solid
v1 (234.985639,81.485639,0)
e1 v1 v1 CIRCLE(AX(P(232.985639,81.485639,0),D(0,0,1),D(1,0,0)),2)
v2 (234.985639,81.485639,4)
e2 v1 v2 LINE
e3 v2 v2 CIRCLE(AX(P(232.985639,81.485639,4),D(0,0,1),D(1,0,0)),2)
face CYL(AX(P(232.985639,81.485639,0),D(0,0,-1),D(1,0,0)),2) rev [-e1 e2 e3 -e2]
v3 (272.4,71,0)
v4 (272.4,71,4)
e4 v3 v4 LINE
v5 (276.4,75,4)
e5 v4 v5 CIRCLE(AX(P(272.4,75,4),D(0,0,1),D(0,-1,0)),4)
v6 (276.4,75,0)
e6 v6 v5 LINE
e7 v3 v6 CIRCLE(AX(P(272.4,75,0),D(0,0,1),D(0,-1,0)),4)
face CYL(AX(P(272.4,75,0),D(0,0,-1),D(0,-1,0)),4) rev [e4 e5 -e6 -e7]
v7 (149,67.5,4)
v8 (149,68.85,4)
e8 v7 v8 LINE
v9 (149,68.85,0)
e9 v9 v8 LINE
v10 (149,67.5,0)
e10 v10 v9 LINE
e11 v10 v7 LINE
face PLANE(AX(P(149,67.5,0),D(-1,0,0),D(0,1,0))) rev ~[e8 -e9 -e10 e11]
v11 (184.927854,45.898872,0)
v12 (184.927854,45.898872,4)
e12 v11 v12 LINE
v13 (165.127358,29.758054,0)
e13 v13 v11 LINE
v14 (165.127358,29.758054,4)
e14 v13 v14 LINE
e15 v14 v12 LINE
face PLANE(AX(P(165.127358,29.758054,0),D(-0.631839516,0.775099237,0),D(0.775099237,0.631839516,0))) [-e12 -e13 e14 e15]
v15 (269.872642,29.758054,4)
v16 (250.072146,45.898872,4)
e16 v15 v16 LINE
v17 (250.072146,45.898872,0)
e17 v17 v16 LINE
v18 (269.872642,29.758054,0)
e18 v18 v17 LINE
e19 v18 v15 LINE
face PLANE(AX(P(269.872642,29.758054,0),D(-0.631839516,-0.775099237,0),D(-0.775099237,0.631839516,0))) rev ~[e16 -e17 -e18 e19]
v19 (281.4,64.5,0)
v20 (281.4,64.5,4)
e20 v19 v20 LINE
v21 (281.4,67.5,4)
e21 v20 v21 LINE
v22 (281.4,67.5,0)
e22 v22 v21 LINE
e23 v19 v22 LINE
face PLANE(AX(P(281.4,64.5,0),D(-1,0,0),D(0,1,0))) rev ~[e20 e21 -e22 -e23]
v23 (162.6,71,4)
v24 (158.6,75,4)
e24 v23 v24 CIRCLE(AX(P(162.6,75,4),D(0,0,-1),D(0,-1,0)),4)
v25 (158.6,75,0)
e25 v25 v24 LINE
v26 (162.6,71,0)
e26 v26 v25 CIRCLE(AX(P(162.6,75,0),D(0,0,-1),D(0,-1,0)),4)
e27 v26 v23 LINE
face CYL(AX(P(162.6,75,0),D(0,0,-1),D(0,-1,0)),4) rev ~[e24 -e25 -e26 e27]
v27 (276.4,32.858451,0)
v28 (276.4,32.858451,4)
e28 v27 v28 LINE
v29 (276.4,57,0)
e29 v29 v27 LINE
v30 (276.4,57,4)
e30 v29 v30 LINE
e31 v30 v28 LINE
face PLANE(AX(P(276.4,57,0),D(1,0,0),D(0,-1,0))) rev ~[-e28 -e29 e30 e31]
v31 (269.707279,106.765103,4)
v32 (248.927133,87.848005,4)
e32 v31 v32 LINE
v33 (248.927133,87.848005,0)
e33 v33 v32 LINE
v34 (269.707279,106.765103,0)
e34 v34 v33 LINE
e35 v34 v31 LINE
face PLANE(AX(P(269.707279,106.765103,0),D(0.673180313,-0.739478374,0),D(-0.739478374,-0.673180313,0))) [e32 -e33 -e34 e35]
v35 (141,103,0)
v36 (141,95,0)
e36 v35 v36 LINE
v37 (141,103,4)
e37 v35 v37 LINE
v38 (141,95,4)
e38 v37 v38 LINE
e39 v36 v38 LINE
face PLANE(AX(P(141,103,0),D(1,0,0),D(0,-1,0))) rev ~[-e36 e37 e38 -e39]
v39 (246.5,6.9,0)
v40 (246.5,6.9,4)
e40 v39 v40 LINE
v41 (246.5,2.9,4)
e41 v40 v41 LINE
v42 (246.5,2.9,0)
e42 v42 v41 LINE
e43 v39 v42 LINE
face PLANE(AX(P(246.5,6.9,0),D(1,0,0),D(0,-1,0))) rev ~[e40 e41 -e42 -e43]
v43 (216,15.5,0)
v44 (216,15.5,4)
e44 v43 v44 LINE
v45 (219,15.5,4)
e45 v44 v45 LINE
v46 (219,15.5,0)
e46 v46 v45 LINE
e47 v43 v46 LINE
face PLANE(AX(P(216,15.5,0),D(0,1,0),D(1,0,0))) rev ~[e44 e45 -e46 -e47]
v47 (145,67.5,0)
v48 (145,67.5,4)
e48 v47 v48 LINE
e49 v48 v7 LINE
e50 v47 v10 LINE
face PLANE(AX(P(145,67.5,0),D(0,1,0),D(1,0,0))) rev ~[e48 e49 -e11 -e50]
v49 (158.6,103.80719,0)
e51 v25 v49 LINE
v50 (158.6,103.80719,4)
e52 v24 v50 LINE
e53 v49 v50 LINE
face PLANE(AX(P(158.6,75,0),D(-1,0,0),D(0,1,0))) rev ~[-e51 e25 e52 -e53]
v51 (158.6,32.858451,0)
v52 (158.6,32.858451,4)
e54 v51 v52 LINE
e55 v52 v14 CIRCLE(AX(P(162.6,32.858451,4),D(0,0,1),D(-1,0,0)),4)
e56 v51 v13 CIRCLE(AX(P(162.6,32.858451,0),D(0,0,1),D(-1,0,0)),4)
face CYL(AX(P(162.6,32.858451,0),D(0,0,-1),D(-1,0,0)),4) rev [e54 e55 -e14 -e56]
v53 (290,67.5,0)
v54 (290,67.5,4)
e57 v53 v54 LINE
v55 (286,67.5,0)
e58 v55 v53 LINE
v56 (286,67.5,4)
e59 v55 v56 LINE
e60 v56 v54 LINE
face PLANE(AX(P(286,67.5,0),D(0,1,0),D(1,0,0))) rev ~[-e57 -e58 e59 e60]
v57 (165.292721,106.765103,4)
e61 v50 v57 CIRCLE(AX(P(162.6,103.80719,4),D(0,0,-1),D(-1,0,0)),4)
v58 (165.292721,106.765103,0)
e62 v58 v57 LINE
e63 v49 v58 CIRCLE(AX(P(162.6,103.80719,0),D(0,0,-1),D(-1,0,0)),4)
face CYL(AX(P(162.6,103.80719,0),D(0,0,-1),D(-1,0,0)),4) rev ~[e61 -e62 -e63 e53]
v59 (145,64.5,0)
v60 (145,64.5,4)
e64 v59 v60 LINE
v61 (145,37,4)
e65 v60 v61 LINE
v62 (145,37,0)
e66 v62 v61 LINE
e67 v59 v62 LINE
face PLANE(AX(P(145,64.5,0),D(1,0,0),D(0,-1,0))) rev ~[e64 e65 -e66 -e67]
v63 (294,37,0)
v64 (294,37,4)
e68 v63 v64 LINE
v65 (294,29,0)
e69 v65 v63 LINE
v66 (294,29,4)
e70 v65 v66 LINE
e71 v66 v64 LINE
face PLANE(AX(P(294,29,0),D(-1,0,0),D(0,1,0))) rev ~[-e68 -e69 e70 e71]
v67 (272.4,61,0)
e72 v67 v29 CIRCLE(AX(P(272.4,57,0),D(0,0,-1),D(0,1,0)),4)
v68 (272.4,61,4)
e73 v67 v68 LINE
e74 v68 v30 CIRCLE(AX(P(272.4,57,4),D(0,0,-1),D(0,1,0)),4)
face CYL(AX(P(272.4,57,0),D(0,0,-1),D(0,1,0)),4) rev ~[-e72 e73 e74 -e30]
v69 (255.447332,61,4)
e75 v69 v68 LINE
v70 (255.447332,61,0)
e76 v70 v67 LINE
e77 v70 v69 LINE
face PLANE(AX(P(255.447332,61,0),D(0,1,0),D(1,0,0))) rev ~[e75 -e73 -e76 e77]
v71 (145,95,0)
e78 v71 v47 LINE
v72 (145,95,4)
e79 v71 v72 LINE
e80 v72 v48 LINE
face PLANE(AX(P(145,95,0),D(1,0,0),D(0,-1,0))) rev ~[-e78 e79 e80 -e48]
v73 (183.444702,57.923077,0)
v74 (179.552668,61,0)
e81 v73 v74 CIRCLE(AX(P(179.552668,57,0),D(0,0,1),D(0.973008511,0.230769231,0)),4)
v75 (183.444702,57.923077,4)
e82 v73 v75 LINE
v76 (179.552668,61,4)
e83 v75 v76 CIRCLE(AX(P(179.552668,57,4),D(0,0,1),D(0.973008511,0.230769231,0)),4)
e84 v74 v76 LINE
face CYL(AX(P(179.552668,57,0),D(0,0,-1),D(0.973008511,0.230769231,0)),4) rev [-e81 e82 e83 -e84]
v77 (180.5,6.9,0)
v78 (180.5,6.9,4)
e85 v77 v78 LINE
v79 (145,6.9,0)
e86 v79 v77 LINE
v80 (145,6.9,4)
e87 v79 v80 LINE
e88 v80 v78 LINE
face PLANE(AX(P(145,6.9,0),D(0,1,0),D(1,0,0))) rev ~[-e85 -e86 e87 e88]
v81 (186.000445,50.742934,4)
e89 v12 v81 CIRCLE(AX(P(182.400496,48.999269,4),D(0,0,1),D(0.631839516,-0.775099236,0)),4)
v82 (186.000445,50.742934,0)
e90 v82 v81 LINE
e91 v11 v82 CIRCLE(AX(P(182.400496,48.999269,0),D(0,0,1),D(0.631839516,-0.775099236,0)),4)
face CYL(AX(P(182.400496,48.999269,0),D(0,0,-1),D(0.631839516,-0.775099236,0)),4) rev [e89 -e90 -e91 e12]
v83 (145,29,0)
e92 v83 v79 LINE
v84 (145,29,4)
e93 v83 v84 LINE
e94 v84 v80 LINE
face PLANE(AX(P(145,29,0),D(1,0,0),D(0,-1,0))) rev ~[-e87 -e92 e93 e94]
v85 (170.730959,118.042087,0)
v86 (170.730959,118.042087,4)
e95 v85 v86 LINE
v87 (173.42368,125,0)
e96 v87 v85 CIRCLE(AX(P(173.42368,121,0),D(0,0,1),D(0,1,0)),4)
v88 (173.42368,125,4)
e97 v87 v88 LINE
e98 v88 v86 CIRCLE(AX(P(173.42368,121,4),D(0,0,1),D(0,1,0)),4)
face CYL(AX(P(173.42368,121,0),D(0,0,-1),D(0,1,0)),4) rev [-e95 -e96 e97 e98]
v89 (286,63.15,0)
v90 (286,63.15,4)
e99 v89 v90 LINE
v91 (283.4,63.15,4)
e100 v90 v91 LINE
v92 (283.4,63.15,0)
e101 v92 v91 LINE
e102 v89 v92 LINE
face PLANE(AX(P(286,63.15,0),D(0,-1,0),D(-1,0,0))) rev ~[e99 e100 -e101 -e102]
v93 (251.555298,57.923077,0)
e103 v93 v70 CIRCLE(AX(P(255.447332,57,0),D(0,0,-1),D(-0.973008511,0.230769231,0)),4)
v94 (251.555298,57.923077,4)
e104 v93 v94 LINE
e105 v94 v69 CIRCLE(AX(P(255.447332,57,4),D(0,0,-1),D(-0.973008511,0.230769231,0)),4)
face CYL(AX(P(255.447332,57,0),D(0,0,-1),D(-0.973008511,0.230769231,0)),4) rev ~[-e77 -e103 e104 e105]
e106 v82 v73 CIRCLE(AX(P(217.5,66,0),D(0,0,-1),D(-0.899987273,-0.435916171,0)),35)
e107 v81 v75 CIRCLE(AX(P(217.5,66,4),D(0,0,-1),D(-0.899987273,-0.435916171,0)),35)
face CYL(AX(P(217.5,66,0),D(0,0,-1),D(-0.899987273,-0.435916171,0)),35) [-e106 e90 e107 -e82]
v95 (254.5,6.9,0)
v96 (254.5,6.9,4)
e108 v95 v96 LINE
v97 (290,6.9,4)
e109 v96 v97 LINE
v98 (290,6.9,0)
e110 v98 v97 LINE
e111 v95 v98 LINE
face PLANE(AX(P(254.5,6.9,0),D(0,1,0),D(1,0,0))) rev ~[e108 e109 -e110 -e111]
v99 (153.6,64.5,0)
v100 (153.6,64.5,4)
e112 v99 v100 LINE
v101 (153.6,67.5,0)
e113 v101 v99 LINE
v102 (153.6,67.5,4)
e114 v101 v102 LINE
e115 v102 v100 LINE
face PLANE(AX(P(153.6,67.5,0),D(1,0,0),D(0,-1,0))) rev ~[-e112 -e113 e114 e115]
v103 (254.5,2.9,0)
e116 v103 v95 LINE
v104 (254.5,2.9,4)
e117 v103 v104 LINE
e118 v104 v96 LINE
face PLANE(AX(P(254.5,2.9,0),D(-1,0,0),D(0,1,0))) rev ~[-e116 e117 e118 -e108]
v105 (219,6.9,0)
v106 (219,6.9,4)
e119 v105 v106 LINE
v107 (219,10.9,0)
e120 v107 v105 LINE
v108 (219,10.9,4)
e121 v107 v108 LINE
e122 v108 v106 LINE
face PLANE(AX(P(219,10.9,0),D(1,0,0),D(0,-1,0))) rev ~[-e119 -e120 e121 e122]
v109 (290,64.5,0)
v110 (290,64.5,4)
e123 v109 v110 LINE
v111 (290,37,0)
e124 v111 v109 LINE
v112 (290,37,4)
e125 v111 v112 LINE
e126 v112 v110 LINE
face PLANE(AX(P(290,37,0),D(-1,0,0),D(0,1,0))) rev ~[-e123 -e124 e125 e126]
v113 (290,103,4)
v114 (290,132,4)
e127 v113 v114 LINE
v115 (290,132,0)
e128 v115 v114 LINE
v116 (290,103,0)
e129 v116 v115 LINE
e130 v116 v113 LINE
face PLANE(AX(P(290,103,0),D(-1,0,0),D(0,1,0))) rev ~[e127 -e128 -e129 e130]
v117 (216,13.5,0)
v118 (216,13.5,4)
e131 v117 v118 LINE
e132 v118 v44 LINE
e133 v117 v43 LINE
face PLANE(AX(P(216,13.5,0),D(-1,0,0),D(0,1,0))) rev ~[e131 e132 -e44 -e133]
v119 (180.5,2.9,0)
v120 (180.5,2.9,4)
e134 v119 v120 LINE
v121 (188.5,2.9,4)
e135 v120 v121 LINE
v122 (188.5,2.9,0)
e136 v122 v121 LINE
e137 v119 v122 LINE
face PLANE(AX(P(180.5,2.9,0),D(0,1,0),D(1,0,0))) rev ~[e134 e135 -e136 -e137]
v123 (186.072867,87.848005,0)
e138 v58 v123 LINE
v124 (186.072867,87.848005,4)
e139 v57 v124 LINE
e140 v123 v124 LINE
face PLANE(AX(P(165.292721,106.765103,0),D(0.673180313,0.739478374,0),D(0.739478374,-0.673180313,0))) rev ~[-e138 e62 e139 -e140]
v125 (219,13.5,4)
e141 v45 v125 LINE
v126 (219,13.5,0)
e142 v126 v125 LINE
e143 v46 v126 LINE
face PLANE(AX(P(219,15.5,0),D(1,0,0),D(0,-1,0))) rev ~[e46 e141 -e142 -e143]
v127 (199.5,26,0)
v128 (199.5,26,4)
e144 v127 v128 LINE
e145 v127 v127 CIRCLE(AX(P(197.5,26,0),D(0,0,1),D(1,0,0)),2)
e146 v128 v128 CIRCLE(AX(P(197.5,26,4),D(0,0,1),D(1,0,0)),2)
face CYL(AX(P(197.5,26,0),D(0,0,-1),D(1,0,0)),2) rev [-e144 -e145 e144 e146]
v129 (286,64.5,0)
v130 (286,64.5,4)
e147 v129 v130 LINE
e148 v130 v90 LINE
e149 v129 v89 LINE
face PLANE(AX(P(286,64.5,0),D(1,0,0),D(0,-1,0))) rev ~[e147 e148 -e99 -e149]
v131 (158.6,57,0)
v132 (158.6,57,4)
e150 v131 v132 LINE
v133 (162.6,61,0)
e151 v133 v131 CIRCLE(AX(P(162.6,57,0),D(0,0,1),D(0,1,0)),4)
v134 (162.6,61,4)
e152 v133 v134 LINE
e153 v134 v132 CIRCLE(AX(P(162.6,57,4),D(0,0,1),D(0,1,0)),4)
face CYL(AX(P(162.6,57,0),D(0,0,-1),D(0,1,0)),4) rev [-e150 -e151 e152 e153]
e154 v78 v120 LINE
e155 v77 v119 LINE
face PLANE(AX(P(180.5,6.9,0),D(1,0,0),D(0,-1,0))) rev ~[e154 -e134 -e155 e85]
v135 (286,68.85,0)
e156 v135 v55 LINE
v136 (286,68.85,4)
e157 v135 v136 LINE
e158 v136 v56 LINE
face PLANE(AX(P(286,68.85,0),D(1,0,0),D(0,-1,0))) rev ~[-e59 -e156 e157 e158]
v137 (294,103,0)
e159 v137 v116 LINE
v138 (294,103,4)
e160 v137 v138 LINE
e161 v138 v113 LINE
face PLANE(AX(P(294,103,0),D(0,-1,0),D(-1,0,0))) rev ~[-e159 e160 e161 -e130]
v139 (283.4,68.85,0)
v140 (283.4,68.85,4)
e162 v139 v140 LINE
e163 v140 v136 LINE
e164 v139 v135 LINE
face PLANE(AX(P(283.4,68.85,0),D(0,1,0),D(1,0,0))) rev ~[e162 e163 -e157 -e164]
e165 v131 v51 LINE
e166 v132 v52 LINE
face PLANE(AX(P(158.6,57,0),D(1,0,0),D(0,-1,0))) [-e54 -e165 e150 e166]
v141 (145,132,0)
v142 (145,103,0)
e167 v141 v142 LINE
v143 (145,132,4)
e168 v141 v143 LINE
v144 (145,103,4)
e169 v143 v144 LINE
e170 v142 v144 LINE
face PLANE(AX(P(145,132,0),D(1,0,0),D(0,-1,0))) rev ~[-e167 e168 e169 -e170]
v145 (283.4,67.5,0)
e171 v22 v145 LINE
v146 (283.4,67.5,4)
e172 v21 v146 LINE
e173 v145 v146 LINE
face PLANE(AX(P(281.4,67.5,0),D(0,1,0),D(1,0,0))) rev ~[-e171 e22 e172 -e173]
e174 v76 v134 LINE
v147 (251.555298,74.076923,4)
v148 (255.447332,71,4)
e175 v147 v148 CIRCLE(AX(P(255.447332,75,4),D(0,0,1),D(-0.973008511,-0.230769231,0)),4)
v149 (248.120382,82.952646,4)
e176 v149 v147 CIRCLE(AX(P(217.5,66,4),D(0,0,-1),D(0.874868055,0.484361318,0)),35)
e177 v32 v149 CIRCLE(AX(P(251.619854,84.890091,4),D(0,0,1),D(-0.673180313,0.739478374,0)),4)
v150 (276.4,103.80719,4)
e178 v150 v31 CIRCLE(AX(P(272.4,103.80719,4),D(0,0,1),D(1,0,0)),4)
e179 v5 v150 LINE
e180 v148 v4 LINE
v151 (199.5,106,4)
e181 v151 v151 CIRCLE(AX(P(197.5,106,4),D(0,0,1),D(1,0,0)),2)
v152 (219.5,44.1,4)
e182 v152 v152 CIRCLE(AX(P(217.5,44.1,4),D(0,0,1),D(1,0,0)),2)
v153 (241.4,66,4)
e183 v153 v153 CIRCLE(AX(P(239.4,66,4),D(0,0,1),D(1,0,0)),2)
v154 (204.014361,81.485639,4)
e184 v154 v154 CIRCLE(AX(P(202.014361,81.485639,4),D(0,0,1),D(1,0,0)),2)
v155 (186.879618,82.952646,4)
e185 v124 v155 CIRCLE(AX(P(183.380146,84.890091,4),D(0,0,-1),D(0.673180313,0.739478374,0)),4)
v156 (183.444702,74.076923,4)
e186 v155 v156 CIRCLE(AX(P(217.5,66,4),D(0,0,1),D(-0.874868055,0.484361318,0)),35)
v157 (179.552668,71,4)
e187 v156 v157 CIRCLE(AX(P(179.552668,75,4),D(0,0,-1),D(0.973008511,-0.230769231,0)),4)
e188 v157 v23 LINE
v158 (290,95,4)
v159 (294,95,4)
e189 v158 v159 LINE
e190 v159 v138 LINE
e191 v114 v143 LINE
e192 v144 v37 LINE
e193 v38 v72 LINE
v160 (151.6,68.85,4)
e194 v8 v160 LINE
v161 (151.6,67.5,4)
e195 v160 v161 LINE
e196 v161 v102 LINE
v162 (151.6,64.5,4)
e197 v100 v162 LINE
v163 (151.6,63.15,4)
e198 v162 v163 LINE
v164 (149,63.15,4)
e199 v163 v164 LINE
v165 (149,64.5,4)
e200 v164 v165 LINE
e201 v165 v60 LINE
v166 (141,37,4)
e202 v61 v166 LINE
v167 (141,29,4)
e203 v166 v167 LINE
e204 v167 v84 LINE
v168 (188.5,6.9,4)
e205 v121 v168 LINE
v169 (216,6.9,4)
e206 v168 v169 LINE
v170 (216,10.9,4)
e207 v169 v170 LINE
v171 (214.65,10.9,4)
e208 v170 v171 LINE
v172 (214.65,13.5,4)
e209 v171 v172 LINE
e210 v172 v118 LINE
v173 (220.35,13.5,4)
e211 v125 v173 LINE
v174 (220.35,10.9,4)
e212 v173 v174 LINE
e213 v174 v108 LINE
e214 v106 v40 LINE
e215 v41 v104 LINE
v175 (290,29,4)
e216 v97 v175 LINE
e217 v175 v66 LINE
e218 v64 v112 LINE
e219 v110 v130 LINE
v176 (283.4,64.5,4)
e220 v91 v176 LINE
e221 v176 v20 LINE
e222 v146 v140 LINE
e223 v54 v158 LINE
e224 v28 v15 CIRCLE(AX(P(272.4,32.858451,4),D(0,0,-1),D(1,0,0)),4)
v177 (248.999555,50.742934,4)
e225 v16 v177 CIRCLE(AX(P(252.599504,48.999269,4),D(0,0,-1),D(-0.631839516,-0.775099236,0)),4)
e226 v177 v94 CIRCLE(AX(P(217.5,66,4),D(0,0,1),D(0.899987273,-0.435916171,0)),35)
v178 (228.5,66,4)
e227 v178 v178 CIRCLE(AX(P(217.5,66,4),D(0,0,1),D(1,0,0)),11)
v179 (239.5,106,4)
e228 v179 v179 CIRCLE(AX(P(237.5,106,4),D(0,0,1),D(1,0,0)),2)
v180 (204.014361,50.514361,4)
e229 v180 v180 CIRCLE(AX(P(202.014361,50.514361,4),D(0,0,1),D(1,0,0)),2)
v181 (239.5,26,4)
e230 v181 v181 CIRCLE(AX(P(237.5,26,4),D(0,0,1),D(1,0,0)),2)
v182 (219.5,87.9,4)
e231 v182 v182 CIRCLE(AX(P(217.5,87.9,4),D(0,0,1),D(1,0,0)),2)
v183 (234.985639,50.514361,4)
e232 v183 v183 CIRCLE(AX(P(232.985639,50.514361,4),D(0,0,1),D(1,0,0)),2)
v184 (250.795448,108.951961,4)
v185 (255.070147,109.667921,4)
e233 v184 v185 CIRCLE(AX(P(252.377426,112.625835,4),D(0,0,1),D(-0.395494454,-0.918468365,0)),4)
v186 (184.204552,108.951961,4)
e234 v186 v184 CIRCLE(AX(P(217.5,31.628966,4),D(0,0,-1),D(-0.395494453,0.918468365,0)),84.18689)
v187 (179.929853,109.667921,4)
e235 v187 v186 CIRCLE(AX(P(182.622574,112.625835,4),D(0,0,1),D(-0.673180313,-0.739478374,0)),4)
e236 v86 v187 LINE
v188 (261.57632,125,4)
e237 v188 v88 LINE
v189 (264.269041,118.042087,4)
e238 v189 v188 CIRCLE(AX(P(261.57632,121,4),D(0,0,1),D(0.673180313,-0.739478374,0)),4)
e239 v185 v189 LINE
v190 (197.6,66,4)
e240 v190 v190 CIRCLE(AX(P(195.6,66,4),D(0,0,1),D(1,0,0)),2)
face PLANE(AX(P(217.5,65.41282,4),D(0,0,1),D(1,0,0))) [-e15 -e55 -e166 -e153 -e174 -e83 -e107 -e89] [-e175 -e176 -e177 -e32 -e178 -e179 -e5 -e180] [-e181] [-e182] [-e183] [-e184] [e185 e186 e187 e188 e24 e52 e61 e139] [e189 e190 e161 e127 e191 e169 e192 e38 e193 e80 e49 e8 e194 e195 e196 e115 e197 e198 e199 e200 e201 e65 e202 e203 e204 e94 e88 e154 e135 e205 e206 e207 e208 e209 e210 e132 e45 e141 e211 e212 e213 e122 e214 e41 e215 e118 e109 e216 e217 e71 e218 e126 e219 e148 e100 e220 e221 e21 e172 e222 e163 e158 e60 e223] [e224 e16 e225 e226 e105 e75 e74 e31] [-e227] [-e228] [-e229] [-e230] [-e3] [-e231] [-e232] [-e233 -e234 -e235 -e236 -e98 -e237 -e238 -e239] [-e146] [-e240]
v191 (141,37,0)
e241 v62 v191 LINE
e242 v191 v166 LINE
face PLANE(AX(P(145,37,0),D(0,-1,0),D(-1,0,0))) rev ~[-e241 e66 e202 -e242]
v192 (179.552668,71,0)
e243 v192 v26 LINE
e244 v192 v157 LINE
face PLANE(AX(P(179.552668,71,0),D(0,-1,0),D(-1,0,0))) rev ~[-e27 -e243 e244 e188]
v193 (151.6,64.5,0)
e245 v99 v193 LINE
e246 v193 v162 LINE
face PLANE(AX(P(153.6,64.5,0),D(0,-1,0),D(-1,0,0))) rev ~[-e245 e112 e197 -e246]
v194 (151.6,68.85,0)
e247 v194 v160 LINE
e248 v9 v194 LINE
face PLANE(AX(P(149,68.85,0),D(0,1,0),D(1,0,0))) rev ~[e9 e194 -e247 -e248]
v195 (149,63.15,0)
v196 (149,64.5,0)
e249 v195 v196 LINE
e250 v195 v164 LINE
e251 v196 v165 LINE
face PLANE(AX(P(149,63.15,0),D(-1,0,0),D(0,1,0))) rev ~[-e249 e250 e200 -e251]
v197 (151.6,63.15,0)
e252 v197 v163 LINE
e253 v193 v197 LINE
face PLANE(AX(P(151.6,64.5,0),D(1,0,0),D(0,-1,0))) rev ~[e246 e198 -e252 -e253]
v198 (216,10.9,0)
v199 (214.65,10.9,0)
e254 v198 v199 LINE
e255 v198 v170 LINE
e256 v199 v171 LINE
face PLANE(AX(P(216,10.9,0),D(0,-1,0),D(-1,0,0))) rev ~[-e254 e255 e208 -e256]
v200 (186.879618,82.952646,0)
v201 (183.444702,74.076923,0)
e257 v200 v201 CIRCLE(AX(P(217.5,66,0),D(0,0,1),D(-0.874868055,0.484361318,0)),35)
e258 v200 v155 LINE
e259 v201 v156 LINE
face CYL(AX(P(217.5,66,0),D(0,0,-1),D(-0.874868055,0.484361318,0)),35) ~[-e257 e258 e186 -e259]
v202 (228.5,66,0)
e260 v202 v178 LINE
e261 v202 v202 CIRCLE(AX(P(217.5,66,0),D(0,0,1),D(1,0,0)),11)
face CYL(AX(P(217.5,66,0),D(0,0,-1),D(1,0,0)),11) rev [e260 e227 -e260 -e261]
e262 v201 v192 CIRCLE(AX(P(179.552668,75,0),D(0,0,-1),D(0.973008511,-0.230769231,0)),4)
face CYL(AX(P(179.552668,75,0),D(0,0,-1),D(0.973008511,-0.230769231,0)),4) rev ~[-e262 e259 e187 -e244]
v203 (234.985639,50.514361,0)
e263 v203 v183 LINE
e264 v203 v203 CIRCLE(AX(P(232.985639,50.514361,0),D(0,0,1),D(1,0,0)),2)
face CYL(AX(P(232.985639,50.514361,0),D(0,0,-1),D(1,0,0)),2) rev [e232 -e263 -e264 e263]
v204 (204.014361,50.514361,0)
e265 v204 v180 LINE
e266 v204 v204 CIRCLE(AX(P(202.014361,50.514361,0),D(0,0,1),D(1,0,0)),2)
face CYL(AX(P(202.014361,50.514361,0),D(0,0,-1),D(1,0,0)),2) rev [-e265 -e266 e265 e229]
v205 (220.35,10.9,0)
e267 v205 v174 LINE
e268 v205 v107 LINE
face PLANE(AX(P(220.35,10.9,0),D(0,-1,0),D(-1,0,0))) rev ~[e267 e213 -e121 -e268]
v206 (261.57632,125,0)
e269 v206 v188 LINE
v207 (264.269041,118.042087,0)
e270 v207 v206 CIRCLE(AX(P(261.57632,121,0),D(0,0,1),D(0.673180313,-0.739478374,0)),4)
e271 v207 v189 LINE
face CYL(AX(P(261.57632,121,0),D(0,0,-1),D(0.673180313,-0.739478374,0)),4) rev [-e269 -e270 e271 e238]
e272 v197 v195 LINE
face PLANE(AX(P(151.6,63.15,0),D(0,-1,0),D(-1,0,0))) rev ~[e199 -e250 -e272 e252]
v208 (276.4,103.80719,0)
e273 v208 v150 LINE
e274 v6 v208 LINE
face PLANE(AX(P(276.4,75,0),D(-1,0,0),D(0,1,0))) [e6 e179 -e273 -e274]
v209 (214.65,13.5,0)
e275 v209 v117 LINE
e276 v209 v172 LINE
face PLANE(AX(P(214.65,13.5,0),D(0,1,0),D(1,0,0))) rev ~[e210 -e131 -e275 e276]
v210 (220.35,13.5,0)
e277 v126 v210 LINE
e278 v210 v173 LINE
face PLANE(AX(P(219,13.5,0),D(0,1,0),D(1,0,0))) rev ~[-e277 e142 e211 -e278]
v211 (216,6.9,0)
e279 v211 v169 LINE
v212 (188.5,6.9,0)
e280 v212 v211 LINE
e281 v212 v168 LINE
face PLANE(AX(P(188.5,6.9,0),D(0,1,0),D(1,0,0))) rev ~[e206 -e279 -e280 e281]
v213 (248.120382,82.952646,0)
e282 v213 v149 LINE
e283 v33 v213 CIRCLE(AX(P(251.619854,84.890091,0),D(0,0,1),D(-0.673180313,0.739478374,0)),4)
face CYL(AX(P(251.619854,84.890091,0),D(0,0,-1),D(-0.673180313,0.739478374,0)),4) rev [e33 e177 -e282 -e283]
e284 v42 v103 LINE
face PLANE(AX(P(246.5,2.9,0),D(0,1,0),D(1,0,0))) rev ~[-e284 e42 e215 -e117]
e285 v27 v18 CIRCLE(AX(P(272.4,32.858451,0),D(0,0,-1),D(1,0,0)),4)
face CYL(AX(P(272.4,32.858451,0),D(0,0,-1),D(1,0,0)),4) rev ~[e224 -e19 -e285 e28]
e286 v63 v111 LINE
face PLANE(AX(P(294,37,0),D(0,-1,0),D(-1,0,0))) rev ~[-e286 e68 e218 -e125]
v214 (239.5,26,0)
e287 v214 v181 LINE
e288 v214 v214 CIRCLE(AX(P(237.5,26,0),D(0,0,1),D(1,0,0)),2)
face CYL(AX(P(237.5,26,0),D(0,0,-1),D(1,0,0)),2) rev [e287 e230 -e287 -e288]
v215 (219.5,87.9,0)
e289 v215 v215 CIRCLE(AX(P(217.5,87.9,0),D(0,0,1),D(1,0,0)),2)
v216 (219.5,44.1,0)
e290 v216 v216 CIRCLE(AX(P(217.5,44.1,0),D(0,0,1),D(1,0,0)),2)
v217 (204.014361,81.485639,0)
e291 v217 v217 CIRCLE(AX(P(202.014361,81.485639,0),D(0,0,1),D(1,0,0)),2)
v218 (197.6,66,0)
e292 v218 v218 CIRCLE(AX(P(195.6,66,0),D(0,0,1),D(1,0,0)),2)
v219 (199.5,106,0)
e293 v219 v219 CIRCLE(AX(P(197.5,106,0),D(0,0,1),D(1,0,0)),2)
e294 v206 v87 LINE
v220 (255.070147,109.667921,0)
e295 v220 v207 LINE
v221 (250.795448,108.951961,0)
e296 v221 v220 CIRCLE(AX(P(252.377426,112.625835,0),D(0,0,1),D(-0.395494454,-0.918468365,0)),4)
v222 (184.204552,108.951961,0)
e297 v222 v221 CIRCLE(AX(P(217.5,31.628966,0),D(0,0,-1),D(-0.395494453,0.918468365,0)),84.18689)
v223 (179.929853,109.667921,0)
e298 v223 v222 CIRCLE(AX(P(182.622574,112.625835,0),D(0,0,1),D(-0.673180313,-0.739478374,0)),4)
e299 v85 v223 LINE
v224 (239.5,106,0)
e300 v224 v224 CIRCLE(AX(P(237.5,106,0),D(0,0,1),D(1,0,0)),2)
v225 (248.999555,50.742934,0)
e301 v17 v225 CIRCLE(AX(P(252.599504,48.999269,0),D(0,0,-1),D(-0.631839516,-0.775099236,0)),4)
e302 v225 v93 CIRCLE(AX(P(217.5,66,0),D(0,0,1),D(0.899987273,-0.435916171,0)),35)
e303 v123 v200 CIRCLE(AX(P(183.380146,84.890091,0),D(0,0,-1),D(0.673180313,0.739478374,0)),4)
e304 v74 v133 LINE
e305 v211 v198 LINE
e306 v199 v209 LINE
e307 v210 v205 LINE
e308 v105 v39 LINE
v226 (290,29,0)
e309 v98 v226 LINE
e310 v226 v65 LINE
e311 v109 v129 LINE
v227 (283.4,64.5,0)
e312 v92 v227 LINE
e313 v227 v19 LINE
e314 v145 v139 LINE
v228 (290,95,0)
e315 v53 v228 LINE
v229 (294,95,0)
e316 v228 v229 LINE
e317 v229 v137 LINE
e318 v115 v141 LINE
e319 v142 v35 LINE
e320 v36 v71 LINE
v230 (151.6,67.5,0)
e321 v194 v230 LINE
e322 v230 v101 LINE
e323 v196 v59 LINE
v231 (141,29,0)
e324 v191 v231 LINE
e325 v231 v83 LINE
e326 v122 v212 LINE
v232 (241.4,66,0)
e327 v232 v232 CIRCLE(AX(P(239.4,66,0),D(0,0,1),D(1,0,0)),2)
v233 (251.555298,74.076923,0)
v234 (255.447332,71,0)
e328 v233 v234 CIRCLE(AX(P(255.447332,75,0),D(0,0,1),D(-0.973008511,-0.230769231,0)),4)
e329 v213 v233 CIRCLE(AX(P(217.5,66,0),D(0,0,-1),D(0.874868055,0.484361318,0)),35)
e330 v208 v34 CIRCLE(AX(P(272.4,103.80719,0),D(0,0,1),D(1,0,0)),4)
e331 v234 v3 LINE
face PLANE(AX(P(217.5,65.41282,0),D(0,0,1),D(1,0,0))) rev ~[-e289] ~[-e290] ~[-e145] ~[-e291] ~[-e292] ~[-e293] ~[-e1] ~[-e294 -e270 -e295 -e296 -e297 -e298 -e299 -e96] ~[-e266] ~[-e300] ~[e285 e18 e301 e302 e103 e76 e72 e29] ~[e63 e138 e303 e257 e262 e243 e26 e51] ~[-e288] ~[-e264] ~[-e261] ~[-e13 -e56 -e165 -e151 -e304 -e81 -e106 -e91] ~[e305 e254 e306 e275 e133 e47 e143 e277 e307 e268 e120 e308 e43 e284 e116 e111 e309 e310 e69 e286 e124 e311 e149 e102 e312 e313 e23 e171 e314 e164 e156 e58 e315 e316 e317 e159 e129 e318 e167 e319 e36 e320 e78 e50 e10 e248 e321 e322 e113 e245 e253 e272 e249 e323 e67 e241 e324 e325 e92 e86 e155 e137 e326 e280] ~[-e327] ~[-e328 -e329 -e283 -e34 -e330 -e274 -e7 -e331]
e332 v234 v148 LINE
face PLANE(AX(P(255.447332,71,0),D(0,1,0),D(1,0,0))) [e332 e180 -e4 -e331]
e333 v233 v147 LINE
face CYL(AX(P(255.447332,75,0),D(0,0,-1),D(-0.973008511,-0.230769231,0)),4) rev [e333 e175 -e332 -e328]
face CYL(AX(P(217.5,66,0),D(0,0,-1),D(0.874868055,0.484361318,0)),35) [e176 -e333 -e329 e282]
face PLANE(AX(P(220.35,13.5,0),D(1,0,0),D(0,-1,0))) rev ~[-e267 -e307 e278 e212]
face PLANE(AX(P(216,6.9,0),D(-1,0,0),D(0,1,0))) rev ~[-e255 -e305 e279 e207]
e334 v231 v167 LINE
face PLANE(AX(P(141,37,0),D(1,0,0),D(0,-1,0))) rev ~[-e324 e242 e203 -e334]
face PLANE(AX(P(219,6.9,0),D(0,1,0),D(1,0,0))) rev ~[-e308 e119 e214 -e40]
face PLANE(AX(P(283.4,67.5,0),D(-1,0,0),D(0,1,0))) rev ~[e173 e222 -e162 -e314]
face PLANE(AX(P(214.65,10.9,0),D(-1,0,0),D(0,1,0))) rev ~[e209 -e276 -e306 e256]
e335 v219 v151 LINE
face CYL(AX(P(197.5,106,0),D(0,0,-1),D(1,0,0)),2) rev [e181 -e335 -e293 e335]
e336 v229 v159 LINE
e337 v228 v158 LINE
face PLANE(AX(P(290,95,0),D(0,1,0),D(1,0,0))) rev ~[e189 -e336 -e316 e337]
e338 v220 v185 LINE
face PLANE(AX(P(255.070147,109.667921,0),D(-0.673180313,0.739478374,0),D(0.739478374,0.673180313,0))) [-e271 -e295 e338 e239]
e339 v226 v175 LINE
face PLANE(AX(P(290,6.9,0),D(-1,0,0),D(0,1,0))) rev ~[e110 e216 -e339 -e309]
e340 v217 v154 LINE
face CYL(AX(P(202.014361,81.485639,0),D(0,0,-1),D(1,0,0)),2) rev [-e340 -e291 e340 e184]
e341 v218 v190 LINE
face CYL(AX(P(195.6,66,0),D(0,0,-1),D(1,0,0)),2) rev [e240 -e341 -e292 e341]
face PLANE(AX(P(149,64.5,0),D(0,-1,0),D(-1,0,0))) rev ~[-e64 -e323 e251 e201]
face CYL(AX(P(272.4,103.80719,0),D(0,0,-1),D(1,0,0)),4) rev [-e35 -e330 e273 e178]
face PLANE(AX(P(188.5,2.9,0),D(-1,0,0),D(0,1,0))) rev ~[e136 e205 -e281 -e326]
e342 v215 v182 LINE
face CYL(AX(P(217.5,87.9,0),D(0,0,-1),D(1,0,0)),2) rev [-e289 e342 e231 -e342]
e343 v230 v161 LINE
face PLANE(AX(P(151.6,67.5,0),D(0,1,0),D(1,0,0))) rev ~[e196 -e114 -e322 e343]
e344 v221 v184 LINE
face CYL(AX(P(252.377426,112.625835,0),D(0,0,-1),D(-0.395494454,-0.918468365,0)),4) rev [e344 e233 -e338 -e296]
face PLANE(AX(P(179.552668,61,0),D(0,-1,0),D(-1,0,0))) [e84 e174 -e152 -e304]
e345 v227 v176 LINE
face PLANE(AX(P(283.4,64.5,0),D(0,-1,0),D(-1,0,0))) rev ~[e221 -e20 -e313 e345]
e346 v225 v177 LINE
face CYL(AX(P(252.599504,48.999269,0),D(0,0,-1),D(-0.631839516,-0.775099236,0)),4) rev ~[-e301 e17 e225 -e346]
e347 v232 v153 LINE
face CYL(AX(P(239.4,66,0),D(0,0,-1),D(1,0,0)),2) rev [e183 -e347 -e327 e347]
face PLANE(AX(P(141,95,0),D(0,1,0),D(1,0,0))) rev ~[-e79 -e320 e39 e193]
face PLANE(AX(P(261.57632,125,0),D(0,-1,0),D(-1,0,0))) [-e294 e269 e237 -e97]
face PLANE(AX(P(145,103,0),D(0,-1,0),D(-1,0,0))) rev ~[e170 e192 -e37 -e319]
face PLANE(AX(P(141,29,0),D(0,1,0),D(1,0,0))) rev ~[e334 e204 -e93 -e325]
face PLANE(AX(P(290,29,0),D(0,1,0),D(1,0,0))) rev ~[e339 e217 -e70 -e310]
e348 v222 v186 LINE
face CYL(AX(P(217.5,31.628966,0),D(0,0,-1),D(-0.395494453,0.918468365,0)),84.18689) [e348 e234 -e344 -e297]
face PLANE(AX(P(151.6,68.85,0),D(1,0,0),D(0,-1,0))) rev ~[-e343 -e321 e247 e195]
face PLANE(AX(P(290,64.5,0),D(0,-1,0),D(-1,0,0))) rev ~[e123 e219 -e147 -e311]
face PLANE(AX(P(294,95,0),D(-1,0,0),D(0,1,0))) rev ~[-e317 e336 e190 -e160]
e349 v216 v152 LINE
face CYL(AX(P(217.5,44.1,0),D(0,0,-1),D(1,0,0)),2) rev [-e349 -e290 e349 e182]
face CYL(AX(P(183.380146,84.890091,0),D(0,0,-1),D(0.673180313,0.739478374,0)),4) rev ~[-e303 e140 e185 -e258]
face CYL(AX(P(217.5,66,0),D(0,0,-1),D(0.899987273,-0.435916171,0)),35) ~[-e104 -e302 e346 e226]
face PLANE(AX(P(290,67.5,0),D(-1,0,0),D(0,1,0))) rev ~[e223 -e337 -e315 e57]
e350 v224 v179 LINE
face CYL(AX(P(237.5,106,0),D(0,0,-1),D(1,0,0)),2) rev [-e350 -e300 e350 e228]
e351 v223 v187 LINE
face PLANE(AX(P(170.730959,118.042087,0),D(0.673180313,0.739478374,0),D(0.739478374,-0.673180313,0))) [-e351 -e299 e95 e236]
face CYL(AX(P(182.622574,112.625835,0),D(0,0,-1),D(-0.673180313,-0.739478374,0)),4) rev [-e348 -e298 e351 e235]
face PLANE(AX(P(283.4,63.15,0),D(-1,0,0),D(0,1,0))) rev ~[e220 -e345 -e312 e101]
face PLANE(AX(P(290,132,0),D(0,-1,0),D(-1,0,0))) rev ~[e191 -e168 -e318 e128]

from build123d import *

# Parameters (mm, degrees)
SKETCH_1_R          = 2
SKETCH_1_R_2        = 11
EXTRUDE_1_DEPTH     = 4
CUT_EXTRUDE_2_DEPTH = 4


with BuildPart() as part:
    # 草图1 → 凸台-拉伸1 (new body)
    with BuildSketch(Plane.XY):
        Polygon((149, 64.5), (145, 64.5), (145, 37), (141, 37), (141, 29), (145, 29), (145, 6.9), (151.5, 6.9), (180.5, 6.9), (180.5, 2.9), (188.5, 2.9), (188.5, 6.9), (216, 6.9), (216, 10.9), (214.65, 10.9), (214.65, 13.5), (216, 13.5), (216, 15.5), (219, 15.5), (219, 13.5), (220.35, 13.5), (220.35, 10.9), (219, 10.9), (219, 6.9), (246.5, 6.9), (246.5, 2.9), (254.5, 2.9), (254.5, 6.9), (283.5, 6.9), (290, 6.9), (290, 29), (294, 29), (294, 37), (290, 37), (290, 64.5), (286, 64.5), (286, 63.15), (283.4, 63.15), (283.4, 64.5), (281.4, 64.5), (281.4, 67.5), (283.4, 67.5), (283.4, 68.85), (286, 68.85), (286, 67.5), (290, 67.5), (290, 95), (294, 95), (294, 103), (290, 103), (290, 132), (145, 132), (145, 103), (141, 103), (141, 95), (145, 95), (145, 67.5), (149, 67.5), (149, 68.85), (151.6, 68.85), (151.6, 67.5), (153.6, 67.5), (153.6, 64.5), (151.6, 64.5), (151.6, 63.15), (149, 63.15), align=None)
        with Locations((197.5, 26)):
            Circle(SKETCH_1_R, mode=Mode.SUBTRACT)
        with Locations((202.014361492, 50.514361492)):
            Circle(SKETCH_1_R, mode=Mode.SUBTRACT)
        with Locations((195.6, 66)):
            Circle(SKETCH_1_R, mode=Mode.SUBTRACT)
        with Locations((237.5, 26)):
            Circle(SKETCH_1_R, mode=Mode.SUBTRACT)
        with Locations((217.5, 44.1)):
            Circle(SKETCH_1_R, mode=Mode.SUBTRACT)
        with Locations((232.985638508, 50.514361492)):
            Circle(SKETCH_1_R, mode=Mode.SUBTRACT)
        with Locations((217.5, 66)):
            Circle(SKETCH_1_R_2, mode=Mode.SUBTRACT)
        with Locations((239.4, 66)):
            Circle(SKETCH_1_R, mode=Mode.SUBTRACT)
        with Locations((202.014361492, 81.485638508)):
            Circle(SKETCH_1_R, mode=Mode.SUBTRACT)
        with Locations((197.5, 106)):
            Circle(SKETCH_1_R, mode=Mode.SUBTRACT)
        with Locations((232.985638508, 81.485638508)):
            Circle(SKETCH_1_R, mode=Mode.SUBTRACT)
        with Locations((217.5, 87.9)):
            Circle(SKETCH_1_R, mode=Mode.SUBTRACT)
        with Locations((237.5, 106)):
            Circle(SKETCH_1_R, mode=Mode.SUBTRACT)
    extrude(amount=EXTRUDE_1_DEPTH)

    # 草图3 → 切除-拉伸2 (cut)
    with BuildSketch(Plane(origin=(0, 0, 0), x_dir=(-1, 0, 0), z_dir=(0, 0, -1))):
        with BuildLine():
            Line((-255.447331922, 61), (-272.4, 61))
            ThreePointArc((-272.4, 61), (-275.228427125, 59.828427125), (-276.4, 57))
            Line((-276.4, 57), (-276.4, 32.858450899))
            ThreePointArc((-276.4, 32.858450899), (-274.116182938, 29.24531983), (-269.872641938, 29.758053953))
            Line((-269.872641938, 29.758053953), (-250.07214558, 45.898872363))
            ThreePointArc((-250.07214558, 45.898872363), (-248.6940963, 48.134518776), (-248.999554551, 50.742933995))
            ThreePointArc((-248.999554551, 50.742933995), (-250.473448142, 54.263232234), (-251.555297879, 57.923076923))
            ThreePointArc((-251.555297879, 57.923076923), (-252.96663723, 60.137858162), (-255.447331922, 61))
        make_face()
        with BuildLine():
            Line((-269.707278747, 106.765103218), (-248.927132883, 87.848004914))
            ThreePointArc((-248.927132883, 87.848004914), (-247.673089718, 85.54051484), (-248.120381917, 82.952646144))
            ThreePointArc((-248.120381917, 82.952646144), (-250.140932956, 78.632082004), (-251.555297879, 74.076923077))
            ThreePointArc((-251.555297879, 74.076923077), (-252.96663723, 71.862141838), (-255.447331922, 71))
            Line((-255.447331922, 71), (-272.4, 71))
            ThreePointArc((-272.4, 71), (-275.228427125, 72.171572875), (-276.4, 75))
            Line((-276.4, 75), (-276.4, 103.807189721))
            ThreePointArc((-276.4, 103.807189721), (-274.016959336, 107.465801822), (-269.707278747, 106.765103218))
        make_face()
        with BuildLine():
            Line((-158.6, 57), (-158.6, 32.858450899))
            ThreePointArc((-158.6, 32.858450899), (-160.883817062, 29.24531983), (-165.127358062, 29.758053953))
            Line((-165.127358062, 29.758053953), (-184.92785442, 45.898872363))
            ThreePointArc((-184.92785442, 45.898872363), (-186.3059037, 48.134518776), (-186.000445449, 50.742933995))
            ThreePointArc((-186.000445449, 50.742933995), (-184.526551858, 54.263232234), (-183.444702121, 57.923076923))
            ThreePointArc((-183.444702121, 57.923076923), (-182.03336277, 60.137858162), (-179.552668078, 61))
            Line((-179.552668078, 61), (-162.6, 61))
            ThreePointArc((-162.6, 61), (-159.771572875, 59.828427125), (-158.6, 57))
        make_face()
        with BuildLine():
            Line((-179.552668078, 71), (-162.6, 71))
            ThreePointArc((-162.6, 71), (-159.771572875, 72.171572875), (-158.6, 75))
            Line((-158.6, 75), (-158.6, 103.807189721))
            ThreePointArc((-158.6, 103.807189721), (-160.983040664, 107.465801822), (-165.292721253, 106.765103218))
            Line((-165.292721253, 106.765103218), (-186.072867117, 87.848004914))
            ThreePointArc((-186.072867117, 87.848004914), (-187.326910282, 85.54051484), (-186.879618083, 82.952646144))
            ThreePointArc((-186.879618083, 82.952646144), (-184.859067044, 78.632082004), (-183.444702121, 74.076923077))
            ThreePointArc((-183.444702121, 74.076923077), (-182.03336277, 71.862141838), (-179.552668078, 71))
        make_face()
        with BuildLine():
            Line((-261.576319533, 125), (-173.423680467, 125))
            ThreePointArc((-173.423680467, 125), (-169.693288129, 122.443666515), (-170.730959214, 118.042086503))
            Line((-170.730959214, 118.042086503), (-179.92985273, 109.667921372))
            ThreePointArc((-179.92985273, 109.667921372), (-181.961826365, 108.680785745), (-184.204551796, 108.951961409))
            ThreePointArc((-184.204551796, 108.951961409), (-217.5, 115.815856239), (-250.795448204, 108.951961409))
            ThreePointArc((-250.795448204, 108.951961409), (-253.038173635, 108.680785745), (-255.07014727, 109.667921372))
            Line((-255.07014727, 109.667921372), (-264.269040786, 118.042086503))
            ThreePointArc((-264.269040786, 118.042086503), (-265.306711871, 122.443666515), (-261.576319533, 125))
        make_face()
    extrude(amount=-CUT_EXTRUDE_2_DEPTH, mode=Mode.SUBTRACT)


solid = part.part
